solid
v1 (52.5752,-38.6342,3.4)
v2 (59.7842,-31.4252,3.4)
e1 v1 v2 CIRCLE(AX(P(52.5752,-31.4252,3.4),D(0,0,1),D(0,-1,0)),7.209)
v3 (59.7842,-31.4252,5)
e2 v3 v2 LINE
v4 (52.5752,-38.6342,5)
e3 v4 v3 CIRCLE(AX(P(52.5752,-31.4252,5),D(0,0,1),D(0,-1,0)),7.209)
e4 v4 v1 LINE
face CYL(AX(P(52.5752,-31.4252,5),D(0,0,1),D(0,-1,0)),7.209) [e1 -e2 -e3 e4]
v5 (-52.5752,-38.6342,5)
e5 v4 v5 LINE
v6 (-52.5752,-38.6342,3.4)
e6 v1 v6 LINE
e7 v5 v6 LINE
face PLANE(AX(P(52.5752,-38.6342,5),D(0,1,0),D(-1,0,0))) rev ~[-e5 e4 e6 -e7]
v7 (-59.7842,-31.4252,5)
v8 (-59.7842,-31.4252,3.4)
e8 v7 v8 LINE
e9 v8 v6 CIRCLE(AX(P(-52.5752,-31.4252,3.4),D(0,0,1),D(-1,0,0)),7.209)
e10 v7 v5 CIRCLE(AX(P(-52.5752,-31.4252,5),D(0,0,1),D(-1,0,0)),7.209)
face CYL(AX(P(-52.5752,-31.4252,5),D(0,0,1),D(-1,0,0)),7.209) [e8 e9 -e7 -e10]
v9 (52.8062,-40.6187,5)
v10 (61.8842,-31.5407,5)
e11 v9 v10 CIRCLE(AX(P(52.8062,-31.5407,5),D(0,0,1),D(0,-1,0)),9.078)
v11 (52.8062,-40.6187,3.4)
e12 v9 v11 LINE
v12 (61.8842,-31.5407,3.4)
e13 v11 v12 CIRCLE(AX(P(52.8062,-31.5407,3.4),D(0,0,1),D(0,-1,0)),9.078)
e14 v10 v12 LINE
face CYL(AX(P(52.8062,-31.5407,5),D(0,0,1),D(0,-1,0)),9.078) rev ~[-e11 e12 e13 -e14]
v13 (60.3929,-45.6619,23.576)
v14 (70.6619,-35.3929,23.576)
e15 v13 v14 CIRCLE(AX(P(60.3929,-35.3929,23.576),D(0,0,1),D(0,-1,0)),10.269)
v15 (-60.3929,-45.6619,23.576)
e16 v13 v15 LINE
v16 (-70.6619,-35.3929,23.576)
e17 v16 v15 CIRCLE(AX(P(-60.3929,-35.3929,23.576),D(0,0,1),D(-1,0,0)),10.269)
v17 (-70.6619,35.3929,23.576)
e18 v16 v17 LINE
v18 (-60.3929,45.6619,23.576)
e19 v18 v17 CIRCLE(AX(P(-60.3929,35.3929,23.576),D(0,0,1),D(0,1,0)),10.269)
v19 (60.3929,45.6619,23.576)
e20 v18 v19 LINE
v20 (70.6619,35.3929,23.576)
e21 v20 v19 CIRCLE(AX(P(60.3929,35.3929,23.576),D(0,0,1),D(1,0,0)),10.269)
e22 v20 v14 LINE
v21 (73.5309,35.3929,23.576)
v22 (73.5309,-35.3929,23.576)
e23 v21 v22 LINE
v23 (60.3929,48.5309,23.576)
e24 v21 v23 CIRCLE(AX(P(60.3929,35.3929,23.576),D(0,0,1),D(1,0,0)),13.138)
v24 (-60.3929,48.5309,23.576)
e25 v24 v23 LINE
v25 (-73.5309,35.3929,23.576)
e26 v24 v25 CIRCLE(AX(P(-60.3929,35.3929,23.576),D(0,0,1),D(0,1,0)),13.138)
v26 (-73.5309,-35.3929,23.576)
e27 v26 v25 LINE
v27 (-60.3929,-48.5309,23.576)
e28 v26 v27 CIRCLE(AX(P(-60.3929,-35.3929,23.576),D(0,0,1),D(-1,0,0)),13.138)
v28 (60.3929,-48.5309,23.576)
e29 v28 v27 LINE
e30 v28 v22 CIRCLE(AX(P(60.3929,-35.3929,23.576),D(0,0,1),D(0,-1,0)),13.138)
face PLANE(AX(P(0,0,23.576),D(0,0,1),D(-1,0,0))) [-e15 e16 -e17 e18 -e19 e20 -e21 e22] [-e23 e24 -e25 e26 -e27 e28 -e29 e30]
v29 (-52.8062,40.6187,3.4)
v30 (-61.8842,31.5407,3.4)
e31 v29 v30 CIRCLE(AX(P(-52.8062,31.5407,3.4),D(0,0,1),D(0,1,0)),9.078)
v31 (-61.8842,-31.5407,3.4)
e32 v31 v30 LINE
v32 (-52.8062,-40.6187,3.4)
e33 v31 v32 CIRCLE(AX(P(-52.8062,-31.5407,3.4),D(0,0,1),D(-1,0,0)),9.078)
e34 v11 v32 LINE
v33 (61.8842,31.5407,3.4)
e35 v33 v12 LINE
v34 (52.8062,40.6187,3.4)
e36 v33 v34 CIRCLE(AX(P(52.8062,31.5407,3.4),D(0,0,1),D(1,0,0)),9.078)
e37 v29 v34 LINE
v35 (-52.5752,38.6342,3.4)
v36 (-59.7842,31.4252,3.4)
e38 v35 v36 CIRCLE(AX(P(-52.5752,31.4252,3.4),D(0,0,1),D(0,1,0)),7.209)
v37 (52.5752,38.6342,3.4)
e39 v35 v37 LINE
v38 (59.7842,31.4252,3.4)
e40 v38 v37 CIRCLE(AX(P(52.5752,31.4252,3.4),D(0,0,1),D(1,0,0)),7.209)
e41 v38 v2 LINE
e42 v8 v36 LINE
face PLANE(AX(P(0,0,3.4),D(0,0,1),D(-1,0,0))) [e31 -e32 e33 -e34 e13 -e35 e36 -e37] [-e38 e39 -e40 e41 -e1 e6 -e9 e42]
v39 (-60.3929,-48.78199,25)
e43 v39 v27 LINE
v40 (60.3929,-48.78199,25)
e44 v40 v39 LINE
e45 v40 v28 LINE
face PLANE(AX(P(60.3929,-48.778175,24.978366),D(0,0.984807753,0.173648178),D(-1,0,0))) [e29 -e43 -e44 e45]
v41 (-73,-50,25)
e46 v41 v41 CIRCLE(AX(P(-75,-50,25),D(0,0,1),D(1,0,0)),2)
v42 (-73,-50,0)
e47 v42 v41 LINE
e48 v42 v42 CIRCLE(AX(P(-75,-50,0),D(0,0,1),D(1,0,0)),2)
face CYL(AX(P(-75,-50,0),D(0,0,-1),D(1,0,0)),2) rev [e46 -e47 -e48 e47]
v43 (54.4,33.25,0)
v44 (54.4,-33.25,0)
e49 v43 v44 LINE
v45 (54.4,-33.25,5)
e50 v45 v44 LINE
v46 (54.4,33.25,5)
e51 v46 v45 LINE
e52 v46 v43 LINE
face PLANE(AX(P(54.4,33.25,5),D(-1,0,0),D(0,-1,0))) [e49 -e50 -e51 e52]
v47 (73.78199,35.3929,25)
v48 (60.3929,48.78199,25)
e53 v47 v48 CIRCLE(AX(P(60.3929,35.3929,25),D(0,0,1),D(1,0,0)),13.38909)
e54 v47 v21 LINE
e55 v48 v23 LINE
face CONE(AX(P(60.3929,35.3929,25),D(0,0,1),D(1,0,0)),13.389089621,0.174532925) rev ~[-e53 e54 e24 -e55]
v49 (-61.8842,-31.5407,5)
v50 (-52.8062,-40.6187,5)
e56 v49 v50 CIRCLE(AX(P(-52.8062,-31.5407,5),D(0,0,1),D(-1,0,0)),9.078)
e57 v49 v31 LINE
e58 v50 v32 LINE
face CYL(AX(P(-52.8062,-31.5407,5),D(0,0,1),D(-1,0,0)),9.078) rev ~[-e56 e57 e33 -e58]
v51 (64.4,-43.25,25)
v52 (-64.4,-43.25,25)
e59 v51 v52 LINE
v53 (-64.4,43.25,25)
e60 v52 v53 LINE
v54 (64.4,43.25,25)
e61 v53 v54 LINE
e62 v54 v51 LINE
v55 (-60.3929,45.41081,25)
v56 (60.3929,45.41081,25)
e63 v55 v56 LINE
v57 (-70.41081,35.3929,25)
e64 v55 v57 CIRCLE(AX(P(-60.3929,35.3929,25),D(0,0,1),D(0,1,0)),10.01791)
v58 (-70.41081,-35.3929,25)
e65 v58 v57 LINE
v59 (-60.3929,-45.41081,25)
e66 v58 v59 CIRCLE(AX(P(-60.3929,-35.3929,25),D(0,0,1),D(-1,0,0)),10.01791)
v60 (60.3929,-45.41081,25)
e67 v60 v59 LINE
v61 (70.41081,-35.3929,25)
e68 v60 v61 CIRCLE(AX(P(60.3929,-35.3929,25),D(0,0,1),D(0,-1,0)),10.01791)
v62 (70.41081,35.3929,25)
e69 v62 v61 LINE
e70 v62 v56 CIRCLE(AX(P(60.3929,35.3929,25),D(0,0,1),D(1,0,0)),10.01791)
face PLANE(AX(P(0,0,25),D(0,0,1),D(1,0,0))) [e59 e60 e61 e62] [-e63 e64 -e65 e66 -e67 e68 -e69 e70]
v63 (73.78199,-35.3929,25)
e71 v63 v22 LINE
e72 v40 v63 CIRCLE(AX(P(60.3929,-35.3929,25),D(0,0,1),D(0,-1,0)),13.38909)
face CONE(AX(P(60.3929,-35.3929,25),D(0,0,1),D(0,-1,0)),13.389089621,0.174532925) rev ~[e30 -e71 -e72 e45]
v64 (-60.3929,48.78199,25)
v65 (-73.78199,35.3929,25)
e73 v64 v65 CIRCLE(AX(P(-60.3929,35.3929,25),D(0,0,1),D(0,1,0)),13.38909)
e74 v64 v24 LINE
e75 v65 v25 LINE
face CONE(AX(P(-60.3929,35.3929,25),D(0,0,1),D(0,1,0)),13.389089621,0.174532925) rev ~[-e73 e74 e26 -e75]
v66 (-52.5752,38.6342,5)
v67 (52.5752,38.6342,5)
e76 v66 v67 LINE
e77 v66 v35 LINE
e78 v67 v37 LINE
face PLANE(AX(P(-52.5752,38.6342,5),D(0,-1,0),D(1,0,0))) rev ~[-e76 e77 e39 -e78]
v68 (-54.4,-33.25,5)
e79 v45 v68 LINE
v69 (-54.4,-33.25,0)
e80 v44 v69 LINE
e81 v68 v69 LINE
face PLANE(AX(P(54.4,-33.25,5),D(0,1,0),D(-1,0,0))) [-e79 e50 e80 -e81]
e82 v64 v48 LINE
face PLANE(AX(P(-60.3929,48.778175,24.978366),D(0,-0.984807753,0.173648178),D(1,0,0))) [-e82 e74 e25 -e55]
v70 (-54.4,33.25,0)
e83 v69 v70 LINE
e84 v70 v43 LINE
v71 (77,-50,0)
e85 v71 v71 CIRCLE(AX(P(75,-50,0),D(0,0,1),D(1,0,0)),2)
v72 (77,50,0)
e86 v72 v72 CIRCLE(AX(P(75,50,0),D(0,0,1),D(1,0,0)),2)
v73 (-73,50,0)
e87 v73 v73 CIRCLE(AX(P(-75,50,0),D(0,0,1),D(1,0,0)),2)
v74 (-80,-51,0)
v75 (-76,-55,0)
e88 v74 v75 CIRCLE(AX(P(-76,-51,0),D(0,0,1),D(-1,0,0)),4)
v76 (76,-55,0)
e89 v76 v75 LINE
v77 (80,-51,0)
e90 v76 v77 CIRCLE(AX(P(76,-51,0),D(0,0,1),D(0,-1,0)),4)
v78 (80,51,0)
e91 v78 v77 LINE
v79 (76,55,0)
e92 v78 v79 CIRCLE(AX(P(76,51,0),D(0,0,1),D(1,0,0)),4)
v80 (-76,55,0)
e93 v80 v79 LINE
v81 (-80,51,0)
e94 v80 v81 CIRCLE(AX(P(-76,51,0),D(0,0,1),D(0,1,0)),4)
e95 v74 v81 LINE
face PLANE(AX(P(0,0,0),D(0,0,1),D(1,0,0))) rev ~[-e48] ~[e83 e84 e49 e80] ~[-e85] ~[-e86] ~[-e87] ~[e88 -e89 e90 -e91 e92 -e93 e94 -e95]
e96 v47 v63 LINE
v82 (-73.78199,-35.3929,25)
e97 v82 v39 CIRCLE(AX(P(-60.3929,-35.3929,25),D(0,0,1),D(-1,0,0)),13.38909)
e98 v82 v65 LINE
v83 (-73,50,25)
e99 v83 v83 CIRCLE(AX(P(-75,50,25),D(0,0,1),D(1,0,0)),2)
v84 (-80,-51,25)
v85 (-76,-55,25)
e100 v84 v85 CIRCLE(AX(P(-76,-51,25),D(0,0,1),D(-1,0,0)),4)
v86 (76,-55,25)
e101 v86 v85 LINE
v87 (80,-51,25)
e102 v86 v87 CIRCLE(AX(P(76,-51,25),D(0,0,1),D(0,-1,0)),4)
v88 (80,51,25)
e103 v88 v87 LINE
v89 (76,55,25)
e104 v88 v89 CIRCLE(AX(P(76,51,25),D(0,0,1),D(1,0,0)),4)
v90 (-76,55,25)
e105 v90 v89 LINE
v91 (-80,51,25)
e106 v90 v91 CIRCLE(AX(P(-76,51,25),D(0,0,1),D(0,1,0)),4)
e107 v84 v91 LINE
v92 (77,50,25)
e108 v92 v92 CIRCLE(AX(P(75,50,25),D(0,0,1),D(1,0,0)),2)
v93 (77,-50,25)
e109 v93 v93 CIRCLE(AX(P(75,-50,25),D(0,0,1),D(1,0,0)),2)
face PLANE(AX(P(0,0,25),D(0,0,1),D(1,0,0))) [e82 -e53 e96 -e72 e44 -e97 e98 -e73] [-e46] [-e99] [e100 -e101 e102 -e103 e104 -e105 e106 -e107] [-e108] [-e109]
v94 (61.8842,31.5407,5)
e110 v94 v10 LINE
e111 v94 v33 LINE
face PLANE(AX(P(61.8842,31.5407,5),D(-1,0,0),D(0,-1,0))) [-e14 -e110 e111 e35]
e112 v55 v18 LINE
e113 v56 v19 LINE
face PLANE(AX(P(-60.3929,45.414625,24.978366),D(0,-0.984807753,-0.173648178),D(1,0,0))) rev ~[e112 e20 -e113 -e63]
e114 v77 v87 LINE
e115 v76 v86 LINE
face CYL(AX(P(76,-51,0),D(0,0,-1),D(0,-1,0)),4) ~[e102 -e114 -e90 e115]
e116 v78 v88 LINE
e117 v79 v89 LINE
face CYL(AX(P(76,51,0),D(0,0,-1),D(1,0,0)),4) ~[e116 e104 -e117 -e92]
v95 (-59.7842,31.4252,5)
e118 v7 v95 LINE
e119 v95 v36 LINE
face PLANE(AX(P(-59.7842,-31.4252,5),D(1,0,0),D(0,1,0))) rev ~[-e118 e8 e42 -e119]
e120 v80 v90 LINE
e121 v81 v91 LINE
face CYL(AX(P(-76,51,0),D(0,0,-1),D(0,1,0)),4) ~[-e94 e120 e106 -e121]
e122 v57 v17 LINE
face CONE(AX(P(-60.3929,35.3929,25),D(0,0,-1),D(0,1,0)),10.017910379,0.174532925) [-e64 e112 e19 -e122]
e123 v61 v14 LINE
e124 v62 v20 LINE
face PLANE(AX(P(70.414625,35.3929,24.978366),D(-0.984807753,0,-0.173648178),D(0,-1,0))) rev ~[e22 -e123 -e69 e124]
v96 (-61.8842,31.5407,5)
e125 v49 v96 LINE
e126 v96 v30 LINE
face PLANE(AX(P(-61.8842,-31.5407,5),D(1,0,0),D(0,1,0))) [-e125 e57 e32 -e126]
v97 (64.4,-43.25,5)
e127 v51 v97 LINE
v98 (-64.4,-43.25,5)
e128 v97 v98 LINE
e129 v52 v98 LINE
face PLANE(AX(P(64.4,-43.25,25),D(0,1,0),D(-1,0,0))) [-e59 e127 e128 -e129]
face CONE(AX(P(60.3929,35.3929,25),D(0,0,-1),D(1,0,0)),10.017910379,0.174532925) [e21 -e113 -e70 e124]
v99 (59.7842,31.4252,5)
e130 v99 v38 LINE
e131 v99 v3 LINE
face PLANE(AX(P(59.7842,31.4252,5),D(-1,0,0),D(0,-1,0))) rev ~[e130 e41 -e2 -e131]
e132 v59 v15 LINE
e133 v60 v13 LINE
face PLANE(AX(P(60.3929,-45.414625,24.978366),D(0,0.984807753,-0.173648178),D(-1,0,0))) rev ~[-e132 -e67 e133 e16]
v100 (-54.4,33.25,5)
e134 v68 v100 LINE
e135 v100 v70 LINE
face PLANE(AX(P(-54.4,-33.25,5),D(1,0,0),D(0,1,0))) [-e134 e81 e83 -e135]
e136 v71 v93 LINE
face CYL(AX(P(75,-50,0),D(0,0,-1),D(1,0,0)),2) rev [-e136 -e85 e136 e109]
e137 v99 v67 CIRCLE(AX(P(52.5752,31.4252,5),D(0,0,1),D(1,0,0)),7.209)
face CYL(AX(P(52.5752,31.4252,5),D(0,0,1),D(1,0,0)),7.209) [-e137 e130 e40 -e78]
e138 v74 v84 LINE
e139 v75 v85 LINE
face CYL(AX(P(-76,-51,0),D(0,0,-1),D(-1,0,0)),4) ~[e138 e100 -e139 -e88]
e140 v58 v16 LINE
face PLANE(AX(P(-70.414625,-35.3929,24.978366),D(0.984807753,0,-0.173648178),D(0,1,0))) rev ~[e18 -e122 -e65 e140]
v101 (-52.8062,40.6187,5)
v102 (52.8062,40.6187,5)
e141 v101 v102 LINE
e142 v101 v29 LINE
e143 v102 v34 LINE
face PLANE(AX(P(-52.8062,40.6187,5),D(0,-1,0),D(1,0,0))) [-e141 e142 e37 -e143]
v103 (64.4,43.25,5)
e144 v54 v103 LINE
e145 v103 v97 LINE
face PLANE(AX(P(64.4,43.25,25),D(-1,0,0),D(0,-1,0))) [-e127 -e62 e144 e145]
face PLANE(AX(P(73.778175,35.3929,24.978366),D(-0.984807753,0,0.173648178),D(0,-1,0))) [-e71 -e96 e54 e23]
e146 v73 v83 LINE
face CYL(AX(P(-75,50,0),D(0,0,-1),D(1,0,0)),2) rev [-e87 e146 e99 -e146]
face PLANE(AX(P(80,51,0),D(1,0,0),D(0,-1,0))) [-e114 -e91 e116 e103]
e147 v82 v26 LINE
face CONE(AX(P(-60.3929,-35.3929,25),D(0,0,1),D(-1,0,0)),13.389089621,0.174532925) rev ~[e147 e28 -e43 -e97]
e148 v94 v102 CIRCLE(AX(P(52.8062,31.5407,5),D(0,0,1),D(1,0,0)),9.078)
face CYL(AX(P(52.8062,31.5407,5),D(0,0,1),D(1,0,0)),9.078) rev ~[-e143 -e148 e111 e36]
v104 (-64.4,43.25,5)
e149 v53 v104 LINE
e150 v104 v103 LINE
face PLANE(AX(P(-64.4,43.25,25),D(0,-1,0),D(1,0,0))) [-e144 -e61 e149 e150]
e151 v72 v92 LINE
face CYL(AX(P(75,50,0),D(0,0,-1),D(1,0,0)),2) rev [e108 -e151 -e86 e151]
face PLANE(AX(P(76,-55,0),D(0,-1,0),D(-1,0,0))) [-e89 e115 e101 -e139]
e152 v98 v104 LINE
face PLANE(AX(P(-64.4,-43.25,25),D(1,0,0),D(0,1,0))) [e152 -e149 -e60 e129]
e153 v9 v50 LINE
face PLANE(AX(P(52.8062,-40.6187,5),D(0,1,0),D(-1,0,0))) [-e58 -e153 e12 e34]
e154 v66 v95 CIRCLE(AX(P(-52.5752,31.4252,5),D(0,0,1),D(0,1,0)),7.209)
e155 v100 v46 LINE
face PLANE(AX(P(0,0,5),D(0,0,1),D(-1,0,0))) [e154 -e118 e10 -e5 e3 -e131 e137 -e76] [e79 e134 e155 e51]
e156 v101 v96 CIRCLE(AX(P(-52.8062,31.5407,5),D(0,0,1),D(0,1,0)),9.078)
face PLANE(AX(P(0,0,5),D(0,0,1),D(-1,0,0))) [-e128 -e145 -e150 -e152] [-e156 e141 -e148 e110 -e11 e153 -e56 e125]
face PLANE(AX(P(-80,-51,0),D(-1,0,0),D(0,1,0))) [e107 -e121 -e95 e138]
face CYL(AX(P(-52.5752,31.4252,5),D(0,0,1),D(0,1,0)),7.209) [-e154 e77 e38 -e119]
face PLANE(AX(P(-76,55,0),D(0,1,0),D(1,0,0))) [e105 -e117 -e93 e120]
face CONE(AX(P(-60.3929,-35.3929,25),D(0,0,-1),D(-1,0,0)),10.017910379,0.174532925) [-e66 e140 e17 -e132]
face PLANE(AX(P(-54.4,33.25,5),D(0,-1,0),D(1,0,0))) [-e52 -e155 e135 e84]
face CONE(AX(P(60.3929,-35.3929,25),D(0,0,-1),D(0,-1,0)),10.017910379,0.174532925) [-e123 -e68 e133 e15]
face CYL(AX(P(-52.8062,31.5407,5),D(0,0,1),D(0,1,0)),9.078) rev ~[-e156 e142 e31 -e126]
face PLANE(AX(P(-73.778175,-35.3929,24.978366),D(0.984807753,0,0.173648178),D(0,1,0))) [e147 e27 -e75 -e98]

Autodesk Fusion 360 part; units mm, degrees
sketch "Sketch1" plane through (0, 0, 0) normal (0, 0, 1) x (1, 0, 0)
  line L0 (76, -55) -> (-76, -55)
  line L1 (-80, -51) -> (-80, 51)
  line L2 (-76, 55) -> (76, 55)
  line L3 (80, 51) -> (80, -51)
  line L4 (80, -55) -> (-80, 55) construction
  line L5 (-80, -55) -> (80, 55) construction
  arc A0 (-76, 55) -> (-80, 51) centre (-76, 51) ccw
  arc A1 (80, 51) -> (76, 55) centre (76, 51) ccw
  arc A2 (76, -55) -> (80, -51) centre (76, -51) ccw
  arc A3 (-80, -51) -> (-76, -55) centre (-76, -51) ccw
  circle A4 centre (-75, 50) radius 2
  line L6 (0, 55) -> (0, -55) construction
  line L7 (80, 0) -> (-80, 0) construction
  circle A5 centre (75, 50) radius 2
  circle A6 centre (75, -50) radius 2
  circle A7 centre (-75, -50) radius 2
  dimension "d1" = 160
  dimension "d2" = 110
  dimension "d26" = 4
  dimension "d27" = 4
  dimension "d28" = 4
  dimension "d29" = 4
  dimension "d30" = 4
  dimension "d31" = 5
  dimension "d32" = 5
extrude "Extrude1" add sketch "Sketch1" along normal blind 25
sketch "Sketch2" plane through (0, 0, 25) normal (0, 0, 1) x (-1, 0, 0)
  line L0 (-76, -55) -> (76, -55)
  line L1 (80, -51) -> (80, 51)
  line L2 (76, 55) -> (-76, 55)
  line L3 (-80, 51) -> (-80, -51)
  line L4 (-64.4, 43.25) -> (64.4, 43.25)
  line L5 (64.4, 43.25) -> (64.4, -43.25)
  line L6 (64.4, -43.25) -> (-64.4, -43.25)
  line L7 (-64.4, -43.25) -> (-64.4, 43.25)
  line L8 (-64.4, 43.25) -> (64.4, -43.25) construction
  line L9 (64.4, 43.25) -> (-64.4, -43.25) construction
  arc A0 (76, -55) -> (80, -51) centre (76, -51) ccw
  arc A1 (80, 51) -> (76, 55) centre (76, 51) ccw
  arc A2 (-76, 55) -> (-80, 51) centre (-76, 51) ccw
  arc A3 (-80, -51) -> (-76, -55) centre (-76, -51) ccw
  circle A4 centre (75, 50) radius 2
  circle A5 centre (-75, 50) radius 2
  circle A6 centre (-75, -50) radius 2
  circle A7 centre (75, -50) radius 2
  dimension "d5" = 128.8
  dimension "d6" = 86.5
extrude "Extrude2" cut sketch "Sketch2" against normal blind 20 contours L4 L5 L6 L7
sketch "Sketch3" plane through (0, 0, 25) normal (0, 0, 1) x (-1, 0, 0)
  line L0 (64.4, 43.25) -> (64.4, -43.25)
  line L1 (64.4, -43.25) -> (-64.4, -43.25)
  line L2 (-64.4, -43.25) -> (-64.4, 43.25)
  line L3 (-64.4, 43.25) -> (64.4, 43.25)
  line L4 (-76, -55) -> (76, -55)
  line L5 (80, -51) -> (80, 51)
  line L6 (76, 55) -> (-76, 55)
  line L7 (-80, 51) -> (-80, -51)
  line L8 (-72.0964, 47.0964) -> (72.0964, 47.0964) construction
  line L9 (72.0964, 47.0964) -> (72.0964, -47.0964) construction
  line L10 (72.0964, -47.0964) -> (-72.0964, -47.0964) construction
  line L11 (-72.0964, -47.0964) -> (-72.0964, 47.0964) construction
  line L12 (-72.0964, 47.0964) -> (72.0964, -47.0964) construction
  line L13 (72.0964, 47.0964) -> (-72.0964, -47.0964) construction
  line L14 (70.6619, 35.3929) -> (70.6619, -35.3929)
  line L15 (60.3929, -45.6619) -> (-60.3929, -45.6619)
  line L16 (-70.6619, -35.3929) -> (-70.6619, 35.3929)
  line L17 (-70.6619, 45.6619) -> (70.6619, -45.6619) construction
  line L18 (70.6619, 45.6619) -> (-70.6619, -45.6619) construction
  line L19 (-60.3929, 48.5309) -> (60.3929, 48.5309)
  line L20 (73.5309, 35.3929) -> (73.5309, -35.3929)
  line L21 (60.3929, -48.5309) -> (-60.3929, -48.5309)
  line L22 (-73.5309, -35.3929) -> (-73.5309, 35.3929)
  line L23 (-73.5309, 48.5309) -> (73.5309, -48.5309) construction
  line L24 (73.5309, 48.5309) -> (-73.5309, -48.5309) construction
  arc A0 (60.3929, -45.6619) -> (70.6619, -35.3929) centre (60.3929, -35.3929) ccw
  arc A1 (60.3929, -48.5309) -> (73.5309, -35.3929) centre (60.3929, -35.3929) ccw
  line L25 (0, -55) -> (0, 55) construction
  line L26 (-80, 0) -> (80, 0) construction
  arc A2 (-70.6619, -35.3929) -> (-60.3929, -45.6619) centre (-60.3929, -35.3929) ccw
  arc A3 (-73.5309, -35.3929) -> (-60.3929, -48.5309) centre (-60.3929, -35.3929) ccw
  arc A4 (-60.3929, 45.6619) -> (-70.6619, 35.3929) centre (-60.3929, 35.3929) ccw
  arc A5 (-60.3929, 48.5309) -> (-73.5309, 35.3929) centre (-60.3929, 35.3929) ccw
  arc A6 (70.6619, 35.3929) -> (60.3929, 45.6619) centre (60.3929, 35.3929) ccw
  arc A7 (73.5309, 35.3929) -> (60.3929, 48.5309) centre (60.3929, 35.3929) ccw
  line L27 (-60.3929, 45.6619) -> (60.3929, 45.6619)
  arc A8 (76, -55) -> (80, -51) centre (76, -51) ccw
  arc A9 (80, 51) -> (76, 55) centre (76, 51) ccw
  arc A10 (-76, 55) -> (-80, 51) centre (-76, 51) ccw
  arc A11 (-80, -51) -> (-76, -55) centre (-76, -51) ccw
  circle A12 centre (75, 50) radius 2
  circle A13 centre (-75, 50) radius 2
  circle A14 centre (-75, -50) radius 2
  circle A15 centre (75, -50) radius 2
  dimension "d9" = 144.1928
  dimension "d15" = 94.1928
  dimension "d16" = 1.4345
  dimension "d17" = 1.4345
  dimension "d18" = 1.4345
  dimension "d19" = 1.4345
  dimension "d20" = 10.269
  dimension "d21" = 13.138
extrude "Extrude3" cut sketch "Sketch3" against normal blind 1.424 contours L19 L20 L21 L22 A1 A3 A5 A7
draft "Draft1" angle 10 neutral plane through (0, 0, 23.576) pull (0, 0, 1) 16 faces at (-70.6619, -11.7976, 24.5253) (-67.8249, 42.4793, 24.0507) (-20.131, 45.6619, 24.5253) (67.4793, 42.8249, 24.0507) (70.6619, 11.7976, 24.5253) (67.8249, -42.4793, 24.0507) (20.131, -45.6619, 24.5253) (-64.2095, -44.9263, 24.5253) (-73.5309, -11.7976, 24.5253) (-70.7201, -43.5143, 24.0507) (20.131, -48.5309, 24.5253) (68.5143, -45.7201, 24.0507) (73.5309, 11.7976, 24.5253) (70.7201, 43.5143, 24.0507) (-20.131, 48.5309, 24.5253) (-71.0948, 43.0137, 24.0507)
sketch "Sketch4" plane through (0, 0, 5) normal (0, 0, 1) x (-1, 0, 0)
  line L0 (-64.4, -43.25) -> (64.4, -43.25)
  line L1 (64.4, -43.25) -> (64.4, 43.25)
  line L2 (64.4, 43.25) -> (-64.4, 43.25)
  line L3 (-64.4, 43.25) -> (-64.4, -43.25)
  line L4 (-54.4, 33.25) -> (54.4, 33.25)
  line L5 (54.4, 33.25) -> (54.4, -33.25)
  line L6 (54.4, -33.25) -> (-54.4, -33.25)
  line L7 (-54.4, -33.25) -> (-54.4, 33.25)
  line L8 (-54.4, 33.25) -> (54.4, -33.25) construction
  line L9 (54.4, 33.25) -> (-54.4, -33.25) construction
  dimension "d35" = 10
  dimension "d36" = 10
extrude "Extrude4" cut sketch "Sketch4" against normal blind 5 contours L4 L5 L6 L7
sketch "Sketch5" plane through (0, 0, 5) normal (0, 0, 1) x (-1, 0, 0)
  line L0 (54.4, 33.25) -> (54.4, -33.25)
  line L1 (54.4, -33.25) -> (-54.4, -33.25)
  line L2 (-54.4, -33.25) -> (-54.4, 33.25)
  line L3 (-54.4, 33.25) -> (54.4, 33.25)
  line L4 (-64.4, -43.25) -> (64.4, -43.25)
  line L5 (64.4, -43.25) -> (64.4, 43.25)
  line L6 (64.4, 43.25) -> (-64.4, 43.25)
  line L7 (-64.4, 43.25) -> (-64.4, -43.25)
  line L8 (-60.8342, 39.6842) -> (60.8342, 39.6842) construction
  line L9 (60.8342, 39.6842) -> (60.8342, -39.6842) construction
  line L10 (60.8342, -39.6842) -> (-60.8342, -39.6842) construction
  line L11 (-60.8342, -39.6842) -> (-60.8342, 39.6842) construction
  line L12 (-60.8342, 39.6842) -> (60.8342, -39.6842) construction
  line L13 (60.8342, 39.6842) -> (-60.8342, -39.6842) construction
  line L14 (59.7842, 31.4252) -> (59.7842, -31.4252)
  line L15 (52.5752, -38.6342) -> (-52.5752, -38.6342)
  line L16 (-59.7842, -31.4252) -> (-59.7842, 31.4252)
  line L17 (-57.1085, 36.9051) -> (59.7842, -38.6342) construction
  line L18 (57.4574, 36.3074) -> (-57.4574, -36.3074) construction
  line L19 (-52.8062, 40.6187) -> (52.8062, 40.6187)
  line L20 (61.8842, 31.5407) -> (61.8842, -31.5407)
  line L21 (52.8062, -40.6187) -> (-52.8062, -40.6187)
  line L22 (-61.8842, -31.5407) -> (-61.8842, 31.5407)
  line L23 (-58.9962, 38.7231) -> (61.8842, -40.6187) construction
  line L24 (59.3264, 38.1764) -> (-59.3264, -38.1764) construction
  arc A0 (52.5752, -38.6342) -> (59.7842, -31.4252) centre (52.5752, -31.4252) ccw
  arc A1 (52.8062, -40.6187) -> (61.8842, -31.5407) centre (52.8062, -31.5407) ccw
  line L25 (0, -43.25) -> (0, 43.25) construction
  line L26 (-64.4, 0) -> (64.4, 0) construction
  arc A2 (-59.7842, -31.4252) -> (-52.5752, -38.6342) centre (-52.5752, -31.4252) ccw
  arc A3 (-61.8842, -31.5407) -> (-52.8062, -40.6187) centre (-52.8062, -31.5407) ccw
  arc A4 (59.7842, 31.4252) -> (52.5752, 38.6342) centre (52.5752, 31.4252) ccw
  arc A5 (61.8842, 31.5407) -> (52.8062, 40.6187) centre (52.8062, 31.5407) ccw
  arc A6 (-52.5752, 38.6342) -> (-59.7842, 31.4252) centre (-52.5752, 31.4252) ccw
  arc A7 (-52.8062, 40.6187) -> (-61.8842, 31.5407) centre (-52.8062, 31.5407) ccw
  line L27 (-52.5752, 38.6342) -> (52.5752, 38.6342)
  dimension "d42" = 121.6684
  dimension "d43" = 79.3684
  dimension "d44" = 1.05
  dimension "d45" = 0.9345
  dimension "d46" = 1.05
  dimension "d47" = 1.05
  dimension "d48" = 7.209
  dimension "d49" = 9.078
extrude "Extrude5" cut sketch "Sketch5" against normal blind 1.6 contours L19 L20 L21 L22 A1 A3 A5 A7
equation "d9 = ( ORingPerimeter - 100 mm ) / 4 + 50 mm"
equation "ORingDiameter = 1.78 mm" comment "Diamter of the O ring"
equation "ORingInnerDiameter = 150 mm" comment "Inner diamter of the o ring bore"
equation "ORingPerimeter = 2 * 3.1412 * ( ( ORingInnerDiameter / 2 ) + ORingDiameter / 2 )"
equation "PanelWidth = 80 mm"
equation "PanelLength = 115 mm"
equation "d15 = ( ORingPerimeter - 100 mm ) / 4"
equation "d16 = ( ( ORingDiameter * 1.05 ) / 2 ) + 0.5 mm"
equation "d17 = ( ( ORingDiameter * 1.05 ) / 2 ) + 0.5 mm"
equation "d18 = ( ( ORingDiameter * 1.05 ) / 2 ) + 0.5 mm"
equation "d19 = ( ( ORingDiameter * 1.05 ) / 2 ) + 0.5 mm"
equation "d20 = ( ORingDiameter ) * 6 + ORingDiameter * 0.05 - 0.5 mm"
equation "d21 = ( ORingDiameter ) * 6 + ( ORingDiameter * 1.1 ) + 0.5 mm"
equation "d22 = -ORingDiameter * 0.8"
equation "ORing2Diameter = 2 mm" comment "Second O ring Diameter"
equation "ORing2InnerDiameter = 126 mm" comment "Inner diameter of the second O Ring"
equation "ORing2Perimeter = 2 * 3.1412 * ( ( ORing2InnerDiameter / 2 ) + ORing2Diameter / 2 )"
equation "d42 = ( ORing2Perimeter - 84.6 mm ) / 4 + 42.3 mm"
equation "d43 = ( ORing2Perimeter - 84.6 mm ) / 4"
equation "d44 = ( ORing2Diameter * 1.05 ) / 2"
equation "d45 = ( ORingDiameter * 1.05 ) / 2"
equation "d46 = ( ORing2Diameter * 1.05 ) / 2"
equation "d47 = ( ORing2Diameter * 1.05 ) / 2"
equation "d48 = ( ORingDiameter ) * 4 + ORingDiameter * 0.05 - 0.0 mm"
equation "d49 = ( ORingDiameter ) * 4 + ORingDiameter * 1.1 + 0 mm"
equation "d50 = -ORing2Diameter * 0.8"
